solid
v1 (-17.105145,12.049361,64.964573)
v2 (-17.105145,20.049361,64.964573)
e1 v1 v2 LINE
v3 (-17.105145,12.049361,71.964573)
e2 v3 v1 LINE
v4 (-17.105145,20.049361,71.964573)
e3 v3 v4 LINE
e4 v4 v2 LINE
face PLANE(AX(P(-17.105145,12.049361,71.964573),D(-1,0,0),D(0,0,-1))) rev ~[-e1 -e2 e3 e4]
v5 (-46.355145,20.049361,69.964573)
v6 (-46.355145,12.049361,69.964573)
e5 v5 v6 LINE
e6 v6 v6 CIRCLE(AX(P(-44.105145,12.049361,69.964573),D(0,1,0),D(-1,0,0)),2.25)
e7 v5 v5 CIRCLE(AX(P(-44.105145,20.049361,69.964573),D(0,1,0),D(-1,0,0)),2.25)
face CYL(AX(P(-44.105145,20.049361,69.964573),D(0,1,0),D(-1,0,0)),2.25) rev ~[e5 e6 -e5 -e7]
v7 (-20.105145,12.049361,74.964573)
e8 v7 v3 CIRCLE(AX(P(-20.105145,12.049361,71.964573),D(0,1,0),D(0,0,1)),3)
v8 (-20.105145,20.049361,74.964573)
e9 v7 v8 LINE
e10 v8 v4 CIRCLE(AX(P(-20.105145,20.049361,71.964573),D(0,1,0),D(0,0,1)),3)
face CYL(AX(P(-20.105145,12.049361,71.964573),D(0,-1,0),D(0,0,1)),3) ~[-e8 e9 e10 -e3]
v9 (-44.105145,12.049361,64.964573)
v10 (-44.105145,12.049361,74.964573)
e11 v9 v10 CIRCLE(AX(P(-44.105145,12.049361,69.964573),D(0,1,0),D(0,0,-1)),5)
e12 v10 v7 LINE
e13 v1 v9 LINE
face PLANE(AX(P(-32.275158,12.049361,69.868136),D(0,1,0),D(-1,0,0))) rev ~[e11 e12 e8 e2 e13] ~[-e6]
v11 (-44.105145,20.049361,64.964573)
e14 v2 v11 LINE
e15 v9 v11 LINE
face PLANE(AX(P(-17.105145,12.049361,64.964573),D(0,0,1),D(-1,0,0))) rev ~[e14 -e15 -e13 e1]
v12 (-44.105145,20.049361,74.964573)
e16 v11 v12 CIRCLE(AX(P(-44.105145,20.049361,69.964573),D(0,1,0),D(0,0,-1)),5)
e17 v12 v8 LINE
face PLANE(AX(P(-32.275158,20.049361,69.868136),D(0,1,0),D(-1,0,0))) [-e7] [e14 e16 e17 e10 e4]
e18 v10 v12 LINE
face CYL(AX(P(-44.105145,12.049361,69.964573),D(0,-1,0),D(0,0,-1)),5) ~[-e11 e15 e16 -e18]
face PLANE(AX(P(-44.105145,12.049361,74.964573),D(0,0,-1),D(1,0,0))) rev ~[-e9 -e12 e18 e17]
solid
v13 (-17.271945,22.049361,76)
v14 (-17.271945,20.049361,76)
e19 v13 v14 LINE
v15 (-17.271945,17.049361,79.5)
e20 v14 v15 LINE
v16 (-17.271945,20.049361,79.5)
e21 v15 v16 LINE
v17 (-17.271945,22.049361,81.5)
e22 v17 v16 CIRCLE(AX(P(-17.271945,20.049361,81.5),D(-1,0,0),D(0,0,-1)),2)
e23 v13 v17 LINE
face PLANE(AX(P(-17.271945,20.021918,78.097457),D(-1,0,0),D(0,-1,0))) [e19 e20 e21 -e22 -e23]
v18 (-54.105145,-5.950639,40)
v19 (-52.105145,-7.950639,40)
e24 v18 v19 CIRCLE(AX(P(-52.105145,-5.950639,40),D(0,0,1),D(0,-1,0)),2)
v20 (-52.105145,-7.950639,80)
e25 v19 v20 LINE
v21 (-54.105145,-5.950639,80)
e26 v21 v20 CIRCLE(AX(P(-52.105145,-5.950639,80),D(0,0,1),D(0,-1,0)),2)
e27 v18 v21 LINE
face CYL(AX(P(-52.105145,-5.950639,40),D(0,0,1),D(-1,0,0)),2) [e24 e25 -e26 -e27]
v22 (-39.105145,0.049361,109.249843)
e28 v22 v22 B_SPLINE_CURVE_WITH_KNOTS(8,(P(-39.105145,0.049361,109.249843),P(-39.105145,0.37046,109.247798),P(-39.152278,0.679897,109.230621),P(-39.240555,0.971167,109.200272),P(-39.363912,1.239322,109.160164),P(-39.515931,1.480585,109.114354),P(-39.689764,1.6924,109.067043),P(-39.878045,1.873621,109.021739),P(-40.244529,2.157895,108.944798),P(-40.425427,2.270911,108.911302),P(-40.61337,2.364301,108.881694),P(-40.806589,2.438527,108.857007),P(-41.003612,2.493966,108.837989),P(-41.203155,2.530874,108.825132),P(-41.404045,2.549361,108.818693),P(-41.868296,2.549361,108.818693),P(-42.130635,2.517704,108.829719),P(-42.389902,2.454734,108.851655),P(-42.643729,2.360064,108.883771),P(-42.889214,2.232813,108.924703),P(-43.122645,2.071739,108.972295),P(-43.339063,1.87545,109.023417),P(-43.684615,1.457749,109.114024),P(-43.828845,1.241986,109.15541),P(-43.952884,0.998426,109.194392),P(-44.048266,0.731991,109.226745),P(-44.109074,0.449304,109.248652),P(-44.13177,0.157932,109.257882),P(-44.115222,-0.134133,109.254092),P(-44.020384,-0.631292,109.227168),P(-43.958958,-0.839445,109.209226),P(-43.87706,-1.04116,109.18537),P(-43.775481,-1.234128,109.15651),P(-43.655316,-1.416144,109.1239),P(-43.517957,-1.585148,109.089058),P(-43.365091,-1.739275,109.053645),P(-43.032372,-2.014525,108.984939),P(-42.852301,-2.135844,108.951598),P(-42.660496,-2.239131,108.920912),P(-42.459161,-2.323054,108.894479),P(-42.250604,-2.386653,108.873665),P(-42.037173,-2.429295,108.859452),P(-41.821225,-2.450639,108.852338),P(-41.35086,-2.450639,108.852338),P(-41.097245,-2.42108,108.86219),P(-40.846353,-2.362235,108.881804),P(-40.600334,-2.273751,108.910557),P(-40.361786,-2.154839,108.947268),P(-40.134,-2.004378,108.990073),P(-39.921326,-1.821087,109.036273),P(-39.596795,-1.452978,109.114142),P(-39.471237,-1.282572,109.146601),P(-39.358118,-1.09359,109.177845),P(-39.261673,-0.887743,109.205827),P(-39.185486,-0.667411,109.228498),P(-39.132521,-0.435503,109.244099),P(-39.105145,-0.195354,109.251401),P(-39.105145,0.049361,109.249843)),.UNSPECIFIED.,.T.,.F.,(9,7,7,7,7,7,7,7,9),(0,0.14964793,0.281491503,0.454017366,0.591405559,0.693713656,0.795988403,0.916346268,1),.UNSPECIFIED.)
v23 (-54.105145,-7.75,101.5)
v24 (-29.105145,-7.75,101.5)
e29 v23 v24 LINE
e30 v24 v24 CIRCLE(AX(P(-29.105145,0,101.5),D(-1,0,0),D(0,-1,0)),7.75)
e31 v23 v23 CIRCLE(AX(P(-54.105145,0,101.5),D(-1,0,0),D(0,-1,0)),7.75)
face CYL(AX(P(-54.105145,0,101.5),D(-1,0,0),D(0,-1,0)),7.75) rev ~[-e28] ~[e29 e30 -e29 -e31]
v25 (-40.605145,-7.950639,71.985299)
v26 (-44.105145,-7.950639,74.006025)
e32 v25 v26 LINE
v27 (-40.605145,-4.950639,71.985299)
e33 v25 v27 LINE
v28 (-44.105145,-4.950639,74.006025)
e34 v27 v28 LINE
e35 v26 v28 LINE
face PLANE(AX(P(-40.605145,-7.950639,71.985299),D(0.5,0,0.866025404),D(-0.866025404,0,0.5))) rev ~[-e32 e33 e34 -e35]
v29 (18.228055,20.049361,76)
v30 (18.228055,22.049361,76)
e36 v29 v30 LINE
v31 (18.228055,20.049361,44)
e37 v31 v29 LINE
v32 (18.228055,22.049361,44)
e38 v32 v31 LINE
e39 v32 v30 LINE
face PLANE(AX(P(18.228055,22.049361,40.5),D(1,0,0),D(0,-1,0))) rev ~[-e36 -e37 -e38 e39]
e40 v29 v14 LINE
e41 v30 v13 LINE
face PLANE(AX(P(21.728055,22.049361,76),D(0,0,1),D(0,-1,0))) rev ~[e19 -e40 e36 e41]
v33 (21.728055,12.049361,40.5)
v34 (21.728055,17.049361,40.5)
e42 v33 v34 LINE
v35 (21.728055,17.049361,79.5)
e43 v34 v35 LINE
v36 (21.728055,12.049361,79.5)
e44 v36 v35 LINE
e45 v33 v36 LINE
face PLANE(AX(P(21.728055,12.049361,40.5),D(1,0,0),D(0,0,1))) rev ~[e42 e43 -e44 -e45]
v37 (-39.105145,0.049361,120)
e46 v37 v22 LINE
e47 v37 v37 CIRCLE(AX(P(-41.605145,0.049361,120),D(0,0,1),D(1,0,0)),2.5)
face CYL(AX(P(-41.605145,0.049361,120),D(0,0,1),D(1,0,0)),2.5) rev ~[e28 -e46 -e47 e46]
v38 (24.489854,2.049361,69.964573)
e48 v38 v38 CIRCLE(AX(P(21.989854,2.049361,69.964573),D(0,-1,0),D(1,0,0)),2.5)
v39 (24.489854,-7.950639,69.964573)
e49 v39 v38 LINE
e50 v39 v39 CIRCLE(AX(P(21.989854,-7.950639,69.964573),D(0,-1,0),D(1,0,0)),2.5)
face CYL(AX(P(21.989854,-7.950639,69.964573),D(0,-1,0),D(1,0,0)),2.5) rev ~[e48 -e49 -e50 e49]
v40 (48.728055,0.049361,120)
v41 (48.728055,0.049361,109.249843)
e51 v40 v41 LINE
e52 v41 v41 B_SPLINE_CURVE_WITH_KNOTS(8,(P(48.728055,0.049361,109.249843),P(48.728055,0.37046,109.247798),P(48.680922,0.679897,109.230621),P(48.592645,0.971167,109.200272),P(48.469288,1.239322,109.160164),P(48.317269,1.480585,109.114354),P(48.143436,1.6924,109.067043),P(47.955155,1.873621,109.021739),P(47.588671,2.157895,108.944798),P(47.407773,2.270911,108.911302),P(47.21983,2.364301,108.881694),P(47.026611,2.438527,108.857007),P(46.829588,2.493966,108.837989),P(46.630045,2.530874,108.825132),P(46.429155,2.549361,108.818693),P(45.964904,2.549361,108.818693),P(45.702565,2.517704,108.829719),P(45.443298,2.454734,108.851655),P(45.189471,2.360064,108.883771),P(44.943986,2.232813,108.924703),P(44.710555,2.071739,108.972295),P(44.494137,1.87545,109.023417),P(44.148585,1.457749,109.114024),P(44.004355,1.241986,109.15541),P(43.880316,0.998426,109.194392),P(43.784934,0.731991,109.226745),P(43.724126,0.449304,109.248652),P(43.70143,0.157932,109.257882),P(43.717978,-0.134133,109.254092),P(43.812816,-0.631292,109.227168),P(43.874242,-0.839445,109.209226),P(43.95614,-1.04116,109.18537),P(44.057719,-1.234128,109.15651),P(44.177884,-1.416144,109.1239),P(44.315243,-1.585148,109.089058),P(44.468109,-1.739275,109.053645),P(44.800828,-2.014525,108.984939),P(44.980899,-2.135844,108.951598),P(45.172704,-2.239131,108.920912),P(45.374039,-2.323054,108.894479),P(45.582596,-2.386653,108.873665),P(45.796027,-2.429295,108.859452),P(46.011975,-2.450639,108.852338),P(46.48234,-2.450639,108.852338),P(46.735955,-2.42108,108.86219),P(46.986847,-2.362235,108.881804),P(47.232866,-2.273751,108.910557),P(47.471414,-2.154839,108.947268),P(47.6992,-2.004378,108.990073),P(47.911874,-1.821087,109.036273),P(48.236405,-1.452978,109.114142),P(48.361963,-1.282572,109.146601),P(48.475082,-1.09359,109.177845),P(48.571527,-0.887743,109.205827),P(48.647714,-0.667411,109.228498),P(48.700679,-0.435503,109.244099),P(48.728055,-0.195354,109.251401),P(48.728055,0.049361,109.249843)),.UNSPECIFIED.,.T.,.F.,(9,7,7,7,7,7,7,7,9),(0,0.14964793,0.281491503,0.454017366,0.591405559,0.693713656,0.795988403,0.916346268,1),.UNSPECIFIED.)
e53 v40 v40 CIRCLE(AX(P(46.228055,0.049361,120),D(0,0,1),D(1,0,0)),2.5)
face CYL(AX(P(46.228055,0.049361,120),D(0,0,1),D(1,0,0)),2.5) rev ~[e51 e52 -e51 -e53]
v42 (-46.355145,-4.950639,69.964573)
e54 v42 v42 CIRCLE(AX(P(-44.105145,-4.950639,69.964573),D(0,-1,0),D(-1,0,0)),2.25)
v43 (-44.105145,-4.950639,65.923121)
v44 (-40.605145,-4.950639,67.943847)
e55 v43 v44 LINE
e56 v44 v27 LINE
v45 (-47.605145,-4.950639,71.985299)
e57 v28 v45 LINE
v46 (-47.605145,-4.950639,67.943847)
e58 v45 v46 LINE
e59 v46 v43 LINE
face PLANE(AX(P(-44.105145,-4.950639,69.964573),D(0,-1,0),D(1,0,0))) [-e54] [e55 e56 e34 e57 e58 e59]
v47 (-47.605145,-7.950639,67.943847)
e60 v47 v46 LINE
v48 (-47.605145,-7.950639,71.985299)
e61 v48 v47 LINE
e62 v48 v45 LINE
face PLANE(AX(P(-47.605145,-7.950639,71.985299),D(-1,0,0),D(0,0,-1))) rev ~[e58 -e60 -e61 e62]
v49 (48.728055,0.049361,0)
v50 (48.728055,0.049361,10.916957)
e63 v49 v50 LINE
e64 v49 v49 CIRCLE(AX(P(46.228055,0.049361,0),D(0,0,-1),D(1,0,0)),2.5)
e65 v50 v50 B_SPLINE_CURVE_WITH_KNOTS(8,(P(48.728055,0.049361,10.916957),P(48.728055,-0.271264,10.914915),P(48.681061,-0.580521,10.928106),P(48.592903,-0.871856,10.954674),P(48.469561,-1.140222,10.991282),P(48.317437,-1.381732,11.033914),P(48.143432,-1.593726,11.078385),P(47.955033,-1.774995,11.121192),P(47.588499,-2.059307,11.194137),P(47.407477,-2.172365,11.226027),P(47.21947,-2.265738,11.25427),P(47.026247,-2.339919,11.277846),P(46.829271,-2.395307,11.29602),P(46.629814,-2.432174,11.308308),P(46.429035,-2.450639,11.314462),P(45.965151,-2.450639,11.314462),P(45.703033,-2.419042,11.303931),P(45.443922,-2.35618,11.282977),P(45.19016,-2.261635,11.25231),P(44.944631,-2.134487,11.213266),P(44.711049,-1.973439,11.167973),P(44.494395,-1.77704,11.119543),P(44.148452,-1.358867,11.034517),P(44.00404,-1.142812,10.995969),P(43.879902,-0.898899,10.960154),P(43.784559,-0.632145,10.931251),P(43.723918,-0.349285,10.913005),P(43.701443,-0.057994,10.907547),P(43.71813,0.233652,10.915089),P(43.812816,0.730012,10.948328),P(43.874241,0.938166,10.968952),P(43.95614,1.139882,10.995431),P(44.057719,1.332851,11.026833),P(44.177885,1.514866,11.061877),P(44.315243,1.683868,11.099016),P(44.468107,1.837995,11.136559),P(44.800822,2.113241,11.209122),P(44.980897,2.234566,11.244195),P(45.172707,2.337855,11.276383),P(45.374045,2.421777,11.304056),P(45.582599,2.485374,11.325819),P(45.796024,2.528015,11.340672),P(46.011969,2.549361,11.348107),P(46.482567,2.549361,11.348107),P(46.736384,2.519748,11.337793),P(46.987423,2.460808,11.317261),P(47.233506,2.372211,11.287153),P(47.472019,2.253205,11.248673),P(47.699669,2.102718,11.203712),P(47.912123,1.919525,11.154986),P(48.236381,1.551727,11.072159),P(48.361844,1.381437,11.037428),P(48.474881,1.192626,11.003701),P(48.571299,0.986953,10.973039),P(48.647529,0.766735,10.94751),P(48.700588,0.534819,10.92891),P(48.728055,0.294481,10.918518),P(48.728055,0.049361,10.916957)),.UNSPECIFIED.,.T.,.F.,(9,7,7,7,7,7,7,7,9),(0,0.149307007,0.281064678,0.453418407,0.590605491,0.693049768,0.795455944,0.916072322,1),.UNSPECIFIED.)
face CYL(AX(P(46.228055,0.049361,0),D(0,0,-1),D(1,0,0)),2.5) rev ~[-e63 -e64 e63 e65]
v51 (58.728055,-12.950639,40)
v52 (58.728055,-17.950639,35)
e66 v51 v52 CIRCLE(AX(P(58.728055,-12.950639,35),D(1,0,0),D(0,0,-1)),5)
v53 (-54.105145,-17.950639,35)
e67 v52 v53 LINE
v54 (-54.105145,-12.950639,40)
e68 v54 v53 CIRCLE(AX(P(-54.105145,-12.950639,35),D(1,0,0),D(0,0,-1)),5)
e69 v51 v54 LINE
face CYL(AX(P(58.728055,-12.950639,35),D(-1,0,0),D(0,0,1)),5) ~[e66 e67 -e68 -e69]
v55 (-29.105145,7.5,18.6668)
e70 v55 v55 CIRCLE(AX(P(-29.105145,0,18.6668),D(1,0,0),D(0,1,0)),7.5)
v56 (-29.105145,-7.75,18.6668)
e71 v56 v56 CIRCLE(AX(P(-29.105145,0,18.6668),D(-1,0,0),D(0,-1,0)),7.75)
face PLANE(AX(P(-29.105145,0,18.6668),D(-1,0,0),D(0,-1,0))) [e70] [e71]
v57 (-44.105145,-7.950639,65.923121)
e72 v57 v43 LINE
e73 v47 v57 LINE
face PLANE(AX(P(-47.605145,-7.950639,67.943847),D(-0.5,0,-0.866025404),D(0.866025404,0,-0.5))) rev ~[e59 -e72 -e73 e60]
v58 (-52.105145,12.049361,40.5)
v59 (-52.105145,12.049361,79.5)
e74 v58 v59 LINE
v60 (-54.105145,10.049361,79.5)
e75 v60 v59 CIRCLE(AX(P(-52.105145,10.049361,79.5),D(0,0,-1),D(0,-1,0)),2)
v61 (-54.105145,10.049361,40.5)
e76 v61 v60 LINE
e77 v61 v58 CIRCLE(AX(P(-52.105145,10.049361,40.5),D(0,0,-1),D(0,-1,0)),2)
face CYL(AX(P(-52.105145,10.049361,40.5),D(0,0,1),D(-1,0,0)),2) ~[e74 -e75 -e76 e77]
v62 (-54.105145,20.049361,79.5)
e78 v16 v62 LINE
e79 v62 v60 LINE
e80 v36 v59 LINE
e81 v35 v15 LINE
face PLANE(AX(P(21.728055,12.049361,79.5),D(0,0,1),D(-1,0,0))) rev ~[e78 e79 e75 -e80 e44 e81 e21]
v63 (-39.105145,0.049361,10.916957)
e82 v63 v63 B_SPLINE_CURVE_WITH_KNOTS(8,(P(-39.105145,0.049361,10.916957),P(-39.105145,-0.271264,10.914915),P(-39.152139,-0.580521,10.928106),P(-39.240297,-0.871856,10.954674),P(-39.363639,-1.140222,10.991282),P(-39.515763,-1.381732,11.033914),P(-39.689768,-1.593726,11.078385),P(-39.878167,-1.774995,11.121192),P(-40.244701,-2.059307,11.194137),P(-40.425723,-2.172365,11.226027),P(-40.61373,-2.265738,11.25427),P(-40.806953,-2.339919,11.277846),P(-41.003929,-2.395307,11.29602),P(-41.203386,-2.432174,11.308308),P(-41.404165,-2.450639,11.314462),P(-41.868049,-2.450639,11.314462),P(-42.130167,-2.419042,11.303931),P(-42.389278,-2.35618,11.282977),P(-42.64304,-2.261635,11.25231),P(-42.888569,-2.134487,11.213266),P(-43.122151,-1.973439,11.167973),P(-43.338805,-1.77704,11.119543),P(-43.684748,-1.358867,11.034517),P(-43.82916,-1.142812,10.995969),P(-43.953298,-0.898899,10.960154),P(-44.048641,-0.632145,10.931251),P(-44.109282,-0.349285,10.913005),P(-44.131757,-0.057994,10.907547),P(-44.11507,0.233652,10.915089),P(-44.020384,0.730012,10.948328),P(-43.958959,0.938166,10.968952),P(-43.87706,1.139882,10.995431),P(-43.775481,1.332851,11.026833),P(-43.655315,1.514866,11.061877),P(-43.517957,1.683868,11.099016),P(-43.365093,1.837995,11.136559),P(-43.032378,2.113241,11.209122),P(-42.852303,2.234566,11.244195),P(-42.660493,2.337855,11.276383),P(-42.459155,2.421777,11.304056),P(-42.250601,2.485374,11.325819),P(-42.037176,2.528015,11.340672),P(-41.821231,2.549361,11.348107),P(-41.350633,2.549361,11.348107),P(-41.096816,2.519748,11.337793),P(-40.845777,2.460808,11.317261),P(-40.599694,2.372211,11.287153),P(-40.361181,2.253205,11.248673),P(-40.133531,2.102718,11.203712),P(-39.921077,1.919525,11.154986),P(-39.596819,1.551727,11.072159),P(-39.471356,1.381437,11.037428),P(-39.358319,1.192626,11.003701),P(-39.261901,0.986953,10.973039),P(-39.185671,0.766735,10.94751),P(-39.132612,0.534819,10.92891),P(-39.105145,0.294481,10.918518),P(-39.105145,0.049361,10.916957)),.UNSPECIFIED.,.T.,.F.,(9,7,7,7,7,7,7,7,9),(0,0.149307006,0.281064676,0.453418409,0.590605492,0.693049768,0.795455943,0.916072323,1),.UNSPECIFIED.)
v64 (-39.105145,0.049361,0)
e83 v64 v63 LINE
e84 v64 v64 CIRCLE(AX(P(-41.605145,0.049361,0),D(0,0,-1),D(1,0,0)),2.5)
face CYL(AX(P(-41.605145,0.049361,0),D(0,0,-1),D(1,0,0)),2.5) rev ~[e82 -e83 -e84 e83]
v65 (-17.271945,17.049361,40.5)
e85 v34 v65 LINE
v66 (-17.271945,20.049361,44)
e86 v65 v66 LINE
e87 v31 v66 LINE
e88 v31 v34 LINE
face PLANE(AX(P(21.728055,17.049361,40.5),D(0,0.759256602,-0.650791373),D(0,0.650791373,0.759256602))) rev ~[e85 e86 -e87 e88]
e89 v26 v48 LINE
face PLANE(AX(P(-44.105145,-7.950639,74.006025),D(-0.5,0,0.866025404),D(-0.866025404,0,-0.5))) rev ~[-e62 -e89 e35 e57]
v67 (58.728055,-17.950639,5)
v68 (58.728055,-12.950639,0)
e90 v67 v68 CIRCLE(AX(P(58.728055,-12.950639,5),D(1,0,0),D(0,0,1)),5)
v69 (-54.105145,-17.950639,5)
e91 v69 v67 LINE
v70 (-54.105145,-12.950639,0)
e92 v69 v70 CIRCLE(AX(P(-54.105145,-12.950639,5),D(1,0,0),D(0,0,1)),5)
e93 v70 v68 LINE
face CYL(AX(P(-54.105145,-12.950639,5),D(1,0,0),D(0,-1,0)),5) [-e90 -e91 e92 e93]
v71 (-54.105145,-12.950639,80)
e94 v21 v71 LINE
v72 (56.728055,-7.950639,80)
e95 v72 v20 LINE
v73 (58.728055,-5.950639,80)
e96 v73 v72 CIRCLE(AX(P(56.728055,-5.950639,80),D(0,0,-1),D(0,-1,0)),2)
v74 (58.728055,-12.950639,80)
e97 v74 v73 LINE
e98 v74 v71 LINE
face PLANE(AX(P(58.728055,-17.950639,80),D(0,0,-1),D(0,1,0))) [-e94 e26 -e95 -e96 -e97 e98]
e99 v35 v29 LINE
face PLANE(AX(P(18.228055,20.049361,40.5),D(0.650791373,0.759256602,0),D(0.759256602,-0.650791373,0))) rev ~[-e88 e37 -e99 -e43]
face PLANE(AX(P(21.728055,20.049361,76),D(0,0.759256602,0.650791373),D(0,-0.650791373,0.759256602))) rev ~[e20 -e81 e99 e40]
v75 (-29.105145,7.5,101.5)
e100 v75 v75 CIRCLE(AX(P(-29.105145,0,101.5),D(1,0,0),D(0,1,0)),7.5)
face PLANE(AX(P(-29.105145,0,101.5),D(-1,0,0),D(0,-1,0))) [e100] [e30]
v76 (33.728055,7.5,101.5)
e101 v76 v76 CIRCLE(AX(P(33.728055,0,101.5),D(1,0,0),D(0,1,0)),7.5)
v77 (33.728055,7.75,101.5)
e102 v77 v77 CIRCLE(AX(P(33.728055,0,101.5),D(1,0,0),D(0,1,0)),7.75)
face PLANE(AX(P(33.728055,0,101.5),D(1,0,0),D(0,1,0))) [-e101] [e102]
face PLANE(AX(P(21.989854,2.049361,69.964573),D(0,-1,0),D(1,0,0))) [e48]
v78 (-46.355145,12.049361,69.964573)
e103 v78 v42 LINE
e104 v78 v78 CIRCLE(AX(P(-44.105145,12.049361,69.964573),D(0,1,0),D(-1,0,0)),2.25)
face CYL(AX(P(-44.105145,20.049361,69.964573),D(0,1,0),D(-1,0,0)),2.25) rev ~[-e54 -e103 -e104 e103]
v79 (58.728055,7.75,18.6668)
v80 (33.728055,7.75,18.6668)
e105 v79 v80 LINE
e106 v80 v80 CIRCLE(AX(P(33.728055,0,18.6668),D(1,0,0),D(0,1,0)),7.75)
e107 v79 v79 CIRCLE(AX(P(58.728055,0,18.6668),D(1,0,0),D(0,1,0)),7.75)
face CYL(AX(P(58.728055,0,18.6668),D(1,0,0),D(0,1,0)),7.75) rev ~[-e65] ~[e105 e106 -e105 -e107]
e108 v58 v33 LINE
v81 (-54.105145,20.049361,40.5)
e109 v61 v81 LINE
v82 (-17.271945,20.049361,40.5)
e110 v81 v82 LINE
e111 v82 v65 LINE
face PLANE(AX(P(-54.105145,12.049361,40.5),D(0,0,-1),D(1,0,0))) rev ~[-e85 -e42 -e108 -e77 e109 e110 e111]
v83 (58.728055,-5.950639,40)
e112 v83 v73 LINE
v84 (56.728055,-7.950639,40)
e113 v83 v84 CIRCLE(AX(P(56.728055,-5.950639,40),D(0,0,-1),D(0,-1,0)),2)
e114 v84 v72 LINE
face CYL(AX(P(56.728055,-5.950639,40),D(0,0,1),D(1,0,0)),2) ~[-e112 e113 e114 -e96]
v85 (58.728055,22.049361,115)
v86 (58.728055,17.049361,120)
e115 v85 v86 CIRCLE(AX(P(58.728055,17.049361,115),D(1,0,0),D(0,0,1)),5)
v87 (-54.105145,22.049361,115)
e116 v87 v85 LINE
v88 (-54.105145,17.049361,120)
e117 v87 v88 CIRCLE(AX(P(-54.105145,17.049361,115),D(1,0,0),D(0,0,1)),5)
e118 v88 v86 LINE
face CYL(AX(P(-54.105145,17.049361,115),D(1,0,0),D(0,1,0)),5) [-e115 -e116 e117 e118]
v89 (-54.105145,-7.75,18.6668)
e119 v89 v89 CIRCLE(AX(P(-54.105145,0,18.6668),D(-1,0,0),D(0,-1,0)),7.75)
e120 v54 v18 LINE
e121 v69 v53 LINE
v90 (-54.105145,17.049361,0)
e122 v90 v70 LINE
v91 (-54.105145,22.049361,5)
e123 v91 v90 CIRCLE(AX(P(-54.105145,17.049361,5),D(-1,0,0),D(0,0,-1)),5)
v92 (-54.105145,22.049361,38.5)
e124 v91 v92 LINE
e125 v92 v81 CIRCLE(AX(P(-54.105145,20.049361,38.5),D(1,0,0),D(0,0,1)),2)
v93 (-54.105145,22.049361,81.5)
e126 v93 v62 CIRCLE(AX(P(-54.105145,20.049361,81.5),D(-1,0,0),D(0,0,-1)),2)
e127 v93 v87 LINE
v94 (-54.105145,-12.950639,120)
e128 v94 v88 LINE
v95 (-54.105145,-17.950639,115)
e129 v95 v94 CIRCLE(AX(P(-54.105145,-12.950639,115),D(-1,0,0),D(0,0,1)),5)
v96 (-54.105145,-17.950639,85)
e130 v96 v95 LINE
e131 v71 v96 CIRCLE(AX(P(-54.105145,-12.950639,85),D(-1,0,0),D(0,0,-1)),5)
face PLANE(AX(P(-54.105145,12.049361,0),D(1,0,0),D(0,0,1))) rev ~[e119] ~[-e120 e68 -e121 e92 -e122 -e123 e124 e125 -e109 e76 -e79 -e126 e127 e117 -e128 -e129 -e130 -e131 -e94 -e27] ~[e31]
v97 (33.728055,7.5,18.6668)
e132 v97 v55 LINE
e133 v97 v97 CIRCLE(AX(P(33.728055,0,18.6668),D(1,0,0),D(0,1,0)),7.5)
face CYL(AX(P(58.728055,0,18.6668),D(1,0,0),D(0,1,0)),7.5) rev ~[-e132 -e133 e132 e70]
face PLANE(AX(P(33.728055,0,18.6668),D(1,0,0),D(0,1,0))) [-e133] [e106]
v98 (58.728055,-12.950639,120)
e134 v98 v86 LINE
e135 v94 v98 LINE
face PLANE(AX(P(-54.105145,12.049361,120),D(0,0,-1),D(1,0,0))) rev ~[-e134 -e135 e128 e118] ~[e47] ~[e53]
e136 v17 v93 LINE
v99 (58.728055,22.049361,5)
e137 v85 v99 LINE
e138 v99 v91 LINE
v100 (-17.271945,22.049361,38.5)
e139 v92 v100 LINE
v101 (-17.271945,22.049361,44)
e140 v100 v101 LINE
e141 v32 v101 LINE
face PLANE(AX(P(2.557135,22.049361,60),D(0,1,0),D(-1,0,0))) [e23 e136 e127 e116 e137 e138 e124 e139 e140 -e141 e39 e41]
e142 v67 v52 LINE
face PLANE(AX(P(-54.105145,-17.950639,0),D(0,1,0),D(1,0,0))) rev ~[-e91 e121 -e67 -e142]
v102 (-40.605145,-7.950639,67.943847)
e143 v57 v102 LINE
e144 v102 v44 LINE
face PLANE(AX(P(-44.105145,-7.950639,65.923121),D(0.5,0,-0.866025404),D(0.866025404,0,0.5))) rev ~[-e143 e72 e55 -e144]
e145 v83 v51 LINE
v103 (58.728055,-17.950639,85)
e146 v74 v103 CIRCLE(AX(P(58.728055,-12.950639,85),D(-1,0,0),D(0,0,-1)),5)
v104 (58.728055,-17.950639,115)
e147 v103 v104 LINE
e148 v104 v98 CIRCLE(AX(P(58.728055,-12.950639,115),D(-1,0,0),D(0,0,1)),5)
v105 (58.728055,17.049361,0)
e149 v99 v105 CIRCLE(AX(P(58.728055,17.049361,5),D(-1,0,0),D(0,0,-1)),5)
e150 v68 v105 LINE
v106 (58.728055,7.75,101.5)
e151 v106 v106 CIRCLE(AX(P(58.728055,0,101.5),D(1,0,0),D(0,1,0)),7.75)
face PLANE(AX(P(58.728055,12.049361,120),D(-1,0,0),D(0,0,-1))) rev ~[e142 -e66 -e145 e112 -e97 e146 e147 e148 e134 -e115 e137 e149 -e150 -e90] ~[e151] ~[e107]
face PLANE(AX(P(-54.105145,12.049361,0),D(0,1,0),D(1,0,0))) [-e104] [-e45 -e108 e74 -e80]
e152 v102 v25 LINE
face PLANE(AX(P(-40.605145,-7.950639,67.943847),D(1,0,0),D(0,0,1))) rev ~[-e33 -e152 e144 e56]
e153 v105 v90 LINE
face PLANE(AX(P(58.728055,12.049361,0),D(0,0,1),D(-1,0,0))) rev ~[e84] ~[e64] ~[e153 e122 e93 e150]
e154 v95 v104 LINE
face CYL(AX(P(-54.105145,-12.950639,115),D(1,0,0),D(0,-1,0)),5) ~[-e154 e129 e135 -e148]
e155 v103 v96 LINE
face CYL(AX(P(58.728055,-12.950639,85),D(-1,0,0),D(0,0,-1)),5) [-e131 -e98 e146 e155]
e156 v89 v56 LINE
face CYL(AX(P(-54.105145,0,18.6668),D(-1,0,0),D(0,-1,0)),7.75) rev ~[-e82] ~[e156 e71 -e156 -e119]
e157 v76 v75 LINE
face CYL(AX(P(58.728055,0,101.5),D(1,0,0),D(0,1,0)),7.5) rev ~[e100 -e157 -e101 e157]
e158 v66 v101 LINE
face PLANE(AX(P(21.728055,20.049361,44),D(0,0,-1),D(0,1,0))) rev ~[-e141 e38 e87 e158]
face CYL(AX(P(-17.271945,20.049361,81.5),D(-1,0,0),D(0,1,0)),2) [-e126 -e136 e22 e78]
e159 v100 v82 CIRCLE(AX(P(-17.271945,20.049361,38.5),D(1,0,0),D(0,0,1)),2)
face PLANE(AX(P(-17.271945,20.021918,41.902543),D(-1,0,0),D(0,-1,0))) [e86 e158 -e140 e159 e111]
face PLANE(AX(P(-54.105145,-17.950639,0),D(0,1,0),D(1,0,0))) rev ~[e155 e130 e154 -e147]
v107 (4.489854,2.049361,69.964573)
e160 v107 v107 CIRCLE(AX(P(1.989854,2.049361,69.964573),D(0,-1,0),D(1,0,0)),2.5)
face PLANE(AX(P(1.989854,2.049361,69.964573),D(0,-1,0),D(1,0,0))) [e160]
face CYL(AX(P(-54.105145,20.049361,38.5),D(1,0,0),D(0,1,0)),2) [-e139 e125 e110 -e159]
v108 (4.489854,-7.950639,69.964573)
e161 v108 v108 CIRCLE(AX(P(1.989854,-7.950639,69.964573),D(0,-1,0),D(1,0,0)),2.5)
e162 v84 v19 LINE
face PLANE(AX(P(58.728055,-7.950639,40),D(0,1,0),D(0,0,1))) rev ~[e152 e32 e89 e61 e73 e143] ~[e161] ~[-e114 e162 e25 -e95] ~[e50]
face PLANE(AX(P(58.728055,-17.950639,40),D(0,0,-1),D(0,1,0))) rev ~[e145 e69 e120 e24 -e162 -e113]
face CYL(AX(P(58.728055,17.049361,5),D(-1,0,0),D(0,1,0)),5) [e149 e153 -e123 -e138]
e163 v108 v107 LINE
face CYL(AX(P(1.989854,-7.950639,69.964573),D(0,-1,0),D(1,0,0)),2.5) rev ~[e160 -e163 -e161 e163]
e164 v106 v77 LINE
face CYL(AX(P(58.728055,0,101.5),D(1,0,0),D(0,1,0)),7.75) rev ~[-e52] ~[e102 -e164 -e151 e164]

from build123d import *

# Parameters (mm, degrees)
F0_W      = 112.8332
F0_H      = 30
F1_DEPTH  = 120
F3_DEPTH  = 10
F6_DEPTH  = 39
F7_DEPTH  = 39
F8_R      = 7.5
F8_W      = 10
F8_H      = 40
F9_DEPTH  = 120
F11_DEPTH = 8
F12_R     = 2.25
F13_DEPTH = 50
F14_R     = 2.25
F15_DEPTH = 3
F16_R     = 5
F17_R     = 2
F14_R_2   = 2.5
F18_DEPTH = 10
F19_R     = 7.75
F19_R_2   = 7.5
F20_DEPTH = 25
F21_R     = 7.75
F21_R_2   = 7.5
F22_DEPTH = 25
F24_R     = 2.5
F23_R     = 2.5
F25_DEPTH = 13.1
F26_DEPTH = 25


with BuildPart() as f1:
    # F0 (on Top) → F1 (new body)
    with BuildSketch(Plane.XY):
        with Locations((2.3114552433, -2.9506393059)):
            Rectangle(F0_W, F0_H)
    extrude(amount=F1_DEPTH)

    # F2 (on face) → F3 (join)
    with BuildSketch(Plane(origin=(0, 12.0493606941, 0), x_dir=(-1, 0, 0), z_dir=(0, 1, 0))):
        Polygon((17.2719447567, 40.5), (-21.7280552433, 40.5), (-21.7280552433, 79.5), (17.2719447567, 79.5), (54.1051447567, 79.5), (54.1051447567, 120), (-58.7280552433, 120), (-58.7280552433, 0), (54.1051447567, 0), (54.1051447567, 40.5), align=None)
    extrude(amount=F3_DEPTH)

    # F5 (on face) → F6 (join)
    with BuildSketch(Plane(origin=(21.7280552433, 0, 0), x_dir=(0, -1, 0), z_dir=(-1, 0, 0))):
        Polygon((-22.0493606941, 40.5), (-17.0493606941, 40.5), (-20.0493606941, 44), (-22.0493606941, 44), align=None)
        Polygon((-22.0493606941, 79.5), (-22.0493606941, 76), (-20.0493606941, 76), (-17.0493606941, 79.5), align=None)
    extrude(amount=F6_DEPTH)

    # F4 (on face) → F7 (join)
    with BuildSketch(Plane.XY.offset(40.5)):
        Polygon((21.7280552433, 22.0493606941), (18.2280552433, 22.0493606941), (18.2280552433, 20.0493606941), (21.7280552433, 17.0493606941), align=None)
    extrude(amount=F7_DEPTH)

    # F8 (on face) → F9 (cut)
    with BuildSketch(Plane.YZ.offset(58.7280552433)):
        with Locations((0, 101.5)):
            Circle(F8_R)
        with Locations((0, 18.6668)):
            Circle(F8_R)
        with Locations((-12.9506393059, 60)):
            Rectangle(F8_W, F8_H)
    extrude(amount=-F9_DEPTH, mode=Mode.SUBTRACT)


with BuildPart() as f11:
    # F10 (on face) → F11 (new body)
    with BuildSketch(Plane(origin=(0, 12.0493606941, 0), x_dir=(-1, 0, 0), z_dir=(0, 1, 0))):
        with BuildLine():
            Line((17.1051447567, 64.9645727873), (44.1051447567, 64.9645727873))
            ThreePointArc((44.1051447567, 64.9645727873), (49.1051447567, 69.9645727873), (44.1051447567, 74.9645727873))
            Line((44.1051447567, 74.9645727873), (20.1051447567, 74.9645727873))
            ThreePointArc((20.1051447567, 74.9645727873), (17.9838244131, 74.0858931308), (17.1051447567, 71.9645727873))
            Line((17.1051447567, 71.9645727873), (17.1051447567, 64.9645727873))
        make_face()
    extrude(amount=F11_DEPTH)


with BuildPart() as f13_tool:
    # F12 (on face) → F13 (new body)
    with BuildSketch(Plane(origin=(0, 20.0493606941, 0), x_dir=(-1, 0, 0), z_dir=(0, 1, 0))):
        with Locations((44.1051447567, 69.9645727873)):
            Circle(F12_R)
    extrude(amount=-F13_DEPTH)


with BuildPart() as f1_1:
    add(f1.part)

    # F13: cut by f13_tool
    add(f13_tool.part, mode=Mode.SUBTRACT)

    # F14 (on face) → F15 (cut)
    with BuildSketch(Plane.XZ.offset(7.9506393059)):
        Polygon((-40.6051447567, 67.9438468451), (-40.6051447567, 71.9852987294), (-44.1051447567, 74.0060246716), (-47.6051447567, 71.9852987294), (-47.6051447567, 67.9438468451), (-44.1051447567, 65.923120903), align=None)
        with Locations((-44.1051447567, 69.9645727873)):
            Circle(F14_R, mode=Mode.SUBTRACT)
    extrude(amount=-F15_DEPTH, mode=Mode.SUBTRACT)

    # F16
    f16_edges = [f1_1.edges().sort_by_distance(p)[0] for p in [
        (2.311455, -17.950639, 40),
        (2.311455, -17.950639, 80),
        (2.311455, -17.950639, 120),
        (2.311455, 22.049361, 120),
        (2.311455, -17.950639, 0),
        (2.311455, 22.049361, 0),
    ]]
    fillet(f16_edges, radius=F16_R)

    # F17
    f17_edges = [f1_1.edges().sort_by_distance(p)[0] for p in [
        (-35.688545, 22.049361, 79.5),
        (-35.688545, 22.049361, 40.5),
        (-54.105145, 12.049361, 60),
        (-54.105145, -7.950639, 60),
        (58.728055, -7.950639, 60),
    ]]
    fillet(f17_edges, radius=F17_R)

    # F14 (on face) → F18 (cut)
    with BuildSketch(Plane.XZ.offset(7.9506393059)):
        with Locations((1.9898544997, 69.9645727873)):
            Circle(F14_R_2)
        with Locations((21.9898544997, 69.9645727873)):
            Circle(F14_R_2)
    extrude(amount=-F18_DEPTH, mode=Mode.SUBTRACT)

    # F19 (on face) → F20 (cut)
    with BuildSketch(Plane.YZ.offset(58.7280552433)):
        with Locations((0, 101.5)):
            Circle(F19_R)
        with Locations((0, 101.5)):
            Circle(F19_R_2, mode=Mode.SUBTRACT)
        with Locations((0, 18.6668)):
            Circle(F19_R)
        with Locations((0, 18.6668)):
            Circle(F19_R_2, mode=Mode.SUBTRACT)
    extrude(amount=-F20_DEPTH, mode=Mode.SUBTRACT)

    # F21 (on face) → F22 (cut)
    with BuildSketch(Plane(origin=(-54.1051447567, 0, 0), x_dir=(0, -1, 0), z_dir=(-1, 0, 0))):
        with Locations((0, 101.5)):
            Circle(F21_R)
        with Locations((0, 101.5)):
            Circle(F21_R_2, mode=Mode.SUBTRACT)
        with Locations((0, 18.6668)):
            Circle(F21_R)
        with Locations((0, 18.6668)):
            Circle(F21_R_2, mode=Mode.SUBTRACT)
    extrude(amount=-F22_DEPTH, mode=Mode.SUBTRACT)

    # F24 (on face) + F23 (on face) → F25 (cut)
    with BuildSketch(Plane.XY.offset(120)):
        with Locations((-41.6051447567, 0.0493606941)):
            Circle(F24_R)
        with Locations((46.2280552433, 0.0493606941)):
            Circle(F24_R)
    with BuildSketch(Plane(origin=(0, 0, 0), x_dir=(1, 0, 0), z_dir=(0, 0, -1))):
        with Locations((-41.6051447567, -0.0493606941)):
            Circle(F23_R)
        with Locations((46.2280552433, -0.0493606941)):
            Circle(F23_R)
    extrude(amount=-F25_DEPTH, dir=(0, 0, 1), mode=Mode.SUBTRACT)

    # F23 (on face) → F26 (cut)
    with BuildSketch(Plane(origin=(0, 0, 0), x_dir=(1, 0, 0), z_dir=(0, 0, -1))):
        with Locations((-41.6051447567, -0.0493606941)):
            Circle(F23_R)
        with Locations((46.2280552433, -0.0493606941)):
            Circle(F23_R)
    extrude(amount=-F26_DEPTH, mode=Mode.SUBTRACT)


with BuildPart() as f11_1:
    add(f11.part)

    # F13: cut by f13_tool
    add(f13_tool.part, mode=Mode.SUBTRACT)


solid = Compound([f1_1.part, f11_1.part])
